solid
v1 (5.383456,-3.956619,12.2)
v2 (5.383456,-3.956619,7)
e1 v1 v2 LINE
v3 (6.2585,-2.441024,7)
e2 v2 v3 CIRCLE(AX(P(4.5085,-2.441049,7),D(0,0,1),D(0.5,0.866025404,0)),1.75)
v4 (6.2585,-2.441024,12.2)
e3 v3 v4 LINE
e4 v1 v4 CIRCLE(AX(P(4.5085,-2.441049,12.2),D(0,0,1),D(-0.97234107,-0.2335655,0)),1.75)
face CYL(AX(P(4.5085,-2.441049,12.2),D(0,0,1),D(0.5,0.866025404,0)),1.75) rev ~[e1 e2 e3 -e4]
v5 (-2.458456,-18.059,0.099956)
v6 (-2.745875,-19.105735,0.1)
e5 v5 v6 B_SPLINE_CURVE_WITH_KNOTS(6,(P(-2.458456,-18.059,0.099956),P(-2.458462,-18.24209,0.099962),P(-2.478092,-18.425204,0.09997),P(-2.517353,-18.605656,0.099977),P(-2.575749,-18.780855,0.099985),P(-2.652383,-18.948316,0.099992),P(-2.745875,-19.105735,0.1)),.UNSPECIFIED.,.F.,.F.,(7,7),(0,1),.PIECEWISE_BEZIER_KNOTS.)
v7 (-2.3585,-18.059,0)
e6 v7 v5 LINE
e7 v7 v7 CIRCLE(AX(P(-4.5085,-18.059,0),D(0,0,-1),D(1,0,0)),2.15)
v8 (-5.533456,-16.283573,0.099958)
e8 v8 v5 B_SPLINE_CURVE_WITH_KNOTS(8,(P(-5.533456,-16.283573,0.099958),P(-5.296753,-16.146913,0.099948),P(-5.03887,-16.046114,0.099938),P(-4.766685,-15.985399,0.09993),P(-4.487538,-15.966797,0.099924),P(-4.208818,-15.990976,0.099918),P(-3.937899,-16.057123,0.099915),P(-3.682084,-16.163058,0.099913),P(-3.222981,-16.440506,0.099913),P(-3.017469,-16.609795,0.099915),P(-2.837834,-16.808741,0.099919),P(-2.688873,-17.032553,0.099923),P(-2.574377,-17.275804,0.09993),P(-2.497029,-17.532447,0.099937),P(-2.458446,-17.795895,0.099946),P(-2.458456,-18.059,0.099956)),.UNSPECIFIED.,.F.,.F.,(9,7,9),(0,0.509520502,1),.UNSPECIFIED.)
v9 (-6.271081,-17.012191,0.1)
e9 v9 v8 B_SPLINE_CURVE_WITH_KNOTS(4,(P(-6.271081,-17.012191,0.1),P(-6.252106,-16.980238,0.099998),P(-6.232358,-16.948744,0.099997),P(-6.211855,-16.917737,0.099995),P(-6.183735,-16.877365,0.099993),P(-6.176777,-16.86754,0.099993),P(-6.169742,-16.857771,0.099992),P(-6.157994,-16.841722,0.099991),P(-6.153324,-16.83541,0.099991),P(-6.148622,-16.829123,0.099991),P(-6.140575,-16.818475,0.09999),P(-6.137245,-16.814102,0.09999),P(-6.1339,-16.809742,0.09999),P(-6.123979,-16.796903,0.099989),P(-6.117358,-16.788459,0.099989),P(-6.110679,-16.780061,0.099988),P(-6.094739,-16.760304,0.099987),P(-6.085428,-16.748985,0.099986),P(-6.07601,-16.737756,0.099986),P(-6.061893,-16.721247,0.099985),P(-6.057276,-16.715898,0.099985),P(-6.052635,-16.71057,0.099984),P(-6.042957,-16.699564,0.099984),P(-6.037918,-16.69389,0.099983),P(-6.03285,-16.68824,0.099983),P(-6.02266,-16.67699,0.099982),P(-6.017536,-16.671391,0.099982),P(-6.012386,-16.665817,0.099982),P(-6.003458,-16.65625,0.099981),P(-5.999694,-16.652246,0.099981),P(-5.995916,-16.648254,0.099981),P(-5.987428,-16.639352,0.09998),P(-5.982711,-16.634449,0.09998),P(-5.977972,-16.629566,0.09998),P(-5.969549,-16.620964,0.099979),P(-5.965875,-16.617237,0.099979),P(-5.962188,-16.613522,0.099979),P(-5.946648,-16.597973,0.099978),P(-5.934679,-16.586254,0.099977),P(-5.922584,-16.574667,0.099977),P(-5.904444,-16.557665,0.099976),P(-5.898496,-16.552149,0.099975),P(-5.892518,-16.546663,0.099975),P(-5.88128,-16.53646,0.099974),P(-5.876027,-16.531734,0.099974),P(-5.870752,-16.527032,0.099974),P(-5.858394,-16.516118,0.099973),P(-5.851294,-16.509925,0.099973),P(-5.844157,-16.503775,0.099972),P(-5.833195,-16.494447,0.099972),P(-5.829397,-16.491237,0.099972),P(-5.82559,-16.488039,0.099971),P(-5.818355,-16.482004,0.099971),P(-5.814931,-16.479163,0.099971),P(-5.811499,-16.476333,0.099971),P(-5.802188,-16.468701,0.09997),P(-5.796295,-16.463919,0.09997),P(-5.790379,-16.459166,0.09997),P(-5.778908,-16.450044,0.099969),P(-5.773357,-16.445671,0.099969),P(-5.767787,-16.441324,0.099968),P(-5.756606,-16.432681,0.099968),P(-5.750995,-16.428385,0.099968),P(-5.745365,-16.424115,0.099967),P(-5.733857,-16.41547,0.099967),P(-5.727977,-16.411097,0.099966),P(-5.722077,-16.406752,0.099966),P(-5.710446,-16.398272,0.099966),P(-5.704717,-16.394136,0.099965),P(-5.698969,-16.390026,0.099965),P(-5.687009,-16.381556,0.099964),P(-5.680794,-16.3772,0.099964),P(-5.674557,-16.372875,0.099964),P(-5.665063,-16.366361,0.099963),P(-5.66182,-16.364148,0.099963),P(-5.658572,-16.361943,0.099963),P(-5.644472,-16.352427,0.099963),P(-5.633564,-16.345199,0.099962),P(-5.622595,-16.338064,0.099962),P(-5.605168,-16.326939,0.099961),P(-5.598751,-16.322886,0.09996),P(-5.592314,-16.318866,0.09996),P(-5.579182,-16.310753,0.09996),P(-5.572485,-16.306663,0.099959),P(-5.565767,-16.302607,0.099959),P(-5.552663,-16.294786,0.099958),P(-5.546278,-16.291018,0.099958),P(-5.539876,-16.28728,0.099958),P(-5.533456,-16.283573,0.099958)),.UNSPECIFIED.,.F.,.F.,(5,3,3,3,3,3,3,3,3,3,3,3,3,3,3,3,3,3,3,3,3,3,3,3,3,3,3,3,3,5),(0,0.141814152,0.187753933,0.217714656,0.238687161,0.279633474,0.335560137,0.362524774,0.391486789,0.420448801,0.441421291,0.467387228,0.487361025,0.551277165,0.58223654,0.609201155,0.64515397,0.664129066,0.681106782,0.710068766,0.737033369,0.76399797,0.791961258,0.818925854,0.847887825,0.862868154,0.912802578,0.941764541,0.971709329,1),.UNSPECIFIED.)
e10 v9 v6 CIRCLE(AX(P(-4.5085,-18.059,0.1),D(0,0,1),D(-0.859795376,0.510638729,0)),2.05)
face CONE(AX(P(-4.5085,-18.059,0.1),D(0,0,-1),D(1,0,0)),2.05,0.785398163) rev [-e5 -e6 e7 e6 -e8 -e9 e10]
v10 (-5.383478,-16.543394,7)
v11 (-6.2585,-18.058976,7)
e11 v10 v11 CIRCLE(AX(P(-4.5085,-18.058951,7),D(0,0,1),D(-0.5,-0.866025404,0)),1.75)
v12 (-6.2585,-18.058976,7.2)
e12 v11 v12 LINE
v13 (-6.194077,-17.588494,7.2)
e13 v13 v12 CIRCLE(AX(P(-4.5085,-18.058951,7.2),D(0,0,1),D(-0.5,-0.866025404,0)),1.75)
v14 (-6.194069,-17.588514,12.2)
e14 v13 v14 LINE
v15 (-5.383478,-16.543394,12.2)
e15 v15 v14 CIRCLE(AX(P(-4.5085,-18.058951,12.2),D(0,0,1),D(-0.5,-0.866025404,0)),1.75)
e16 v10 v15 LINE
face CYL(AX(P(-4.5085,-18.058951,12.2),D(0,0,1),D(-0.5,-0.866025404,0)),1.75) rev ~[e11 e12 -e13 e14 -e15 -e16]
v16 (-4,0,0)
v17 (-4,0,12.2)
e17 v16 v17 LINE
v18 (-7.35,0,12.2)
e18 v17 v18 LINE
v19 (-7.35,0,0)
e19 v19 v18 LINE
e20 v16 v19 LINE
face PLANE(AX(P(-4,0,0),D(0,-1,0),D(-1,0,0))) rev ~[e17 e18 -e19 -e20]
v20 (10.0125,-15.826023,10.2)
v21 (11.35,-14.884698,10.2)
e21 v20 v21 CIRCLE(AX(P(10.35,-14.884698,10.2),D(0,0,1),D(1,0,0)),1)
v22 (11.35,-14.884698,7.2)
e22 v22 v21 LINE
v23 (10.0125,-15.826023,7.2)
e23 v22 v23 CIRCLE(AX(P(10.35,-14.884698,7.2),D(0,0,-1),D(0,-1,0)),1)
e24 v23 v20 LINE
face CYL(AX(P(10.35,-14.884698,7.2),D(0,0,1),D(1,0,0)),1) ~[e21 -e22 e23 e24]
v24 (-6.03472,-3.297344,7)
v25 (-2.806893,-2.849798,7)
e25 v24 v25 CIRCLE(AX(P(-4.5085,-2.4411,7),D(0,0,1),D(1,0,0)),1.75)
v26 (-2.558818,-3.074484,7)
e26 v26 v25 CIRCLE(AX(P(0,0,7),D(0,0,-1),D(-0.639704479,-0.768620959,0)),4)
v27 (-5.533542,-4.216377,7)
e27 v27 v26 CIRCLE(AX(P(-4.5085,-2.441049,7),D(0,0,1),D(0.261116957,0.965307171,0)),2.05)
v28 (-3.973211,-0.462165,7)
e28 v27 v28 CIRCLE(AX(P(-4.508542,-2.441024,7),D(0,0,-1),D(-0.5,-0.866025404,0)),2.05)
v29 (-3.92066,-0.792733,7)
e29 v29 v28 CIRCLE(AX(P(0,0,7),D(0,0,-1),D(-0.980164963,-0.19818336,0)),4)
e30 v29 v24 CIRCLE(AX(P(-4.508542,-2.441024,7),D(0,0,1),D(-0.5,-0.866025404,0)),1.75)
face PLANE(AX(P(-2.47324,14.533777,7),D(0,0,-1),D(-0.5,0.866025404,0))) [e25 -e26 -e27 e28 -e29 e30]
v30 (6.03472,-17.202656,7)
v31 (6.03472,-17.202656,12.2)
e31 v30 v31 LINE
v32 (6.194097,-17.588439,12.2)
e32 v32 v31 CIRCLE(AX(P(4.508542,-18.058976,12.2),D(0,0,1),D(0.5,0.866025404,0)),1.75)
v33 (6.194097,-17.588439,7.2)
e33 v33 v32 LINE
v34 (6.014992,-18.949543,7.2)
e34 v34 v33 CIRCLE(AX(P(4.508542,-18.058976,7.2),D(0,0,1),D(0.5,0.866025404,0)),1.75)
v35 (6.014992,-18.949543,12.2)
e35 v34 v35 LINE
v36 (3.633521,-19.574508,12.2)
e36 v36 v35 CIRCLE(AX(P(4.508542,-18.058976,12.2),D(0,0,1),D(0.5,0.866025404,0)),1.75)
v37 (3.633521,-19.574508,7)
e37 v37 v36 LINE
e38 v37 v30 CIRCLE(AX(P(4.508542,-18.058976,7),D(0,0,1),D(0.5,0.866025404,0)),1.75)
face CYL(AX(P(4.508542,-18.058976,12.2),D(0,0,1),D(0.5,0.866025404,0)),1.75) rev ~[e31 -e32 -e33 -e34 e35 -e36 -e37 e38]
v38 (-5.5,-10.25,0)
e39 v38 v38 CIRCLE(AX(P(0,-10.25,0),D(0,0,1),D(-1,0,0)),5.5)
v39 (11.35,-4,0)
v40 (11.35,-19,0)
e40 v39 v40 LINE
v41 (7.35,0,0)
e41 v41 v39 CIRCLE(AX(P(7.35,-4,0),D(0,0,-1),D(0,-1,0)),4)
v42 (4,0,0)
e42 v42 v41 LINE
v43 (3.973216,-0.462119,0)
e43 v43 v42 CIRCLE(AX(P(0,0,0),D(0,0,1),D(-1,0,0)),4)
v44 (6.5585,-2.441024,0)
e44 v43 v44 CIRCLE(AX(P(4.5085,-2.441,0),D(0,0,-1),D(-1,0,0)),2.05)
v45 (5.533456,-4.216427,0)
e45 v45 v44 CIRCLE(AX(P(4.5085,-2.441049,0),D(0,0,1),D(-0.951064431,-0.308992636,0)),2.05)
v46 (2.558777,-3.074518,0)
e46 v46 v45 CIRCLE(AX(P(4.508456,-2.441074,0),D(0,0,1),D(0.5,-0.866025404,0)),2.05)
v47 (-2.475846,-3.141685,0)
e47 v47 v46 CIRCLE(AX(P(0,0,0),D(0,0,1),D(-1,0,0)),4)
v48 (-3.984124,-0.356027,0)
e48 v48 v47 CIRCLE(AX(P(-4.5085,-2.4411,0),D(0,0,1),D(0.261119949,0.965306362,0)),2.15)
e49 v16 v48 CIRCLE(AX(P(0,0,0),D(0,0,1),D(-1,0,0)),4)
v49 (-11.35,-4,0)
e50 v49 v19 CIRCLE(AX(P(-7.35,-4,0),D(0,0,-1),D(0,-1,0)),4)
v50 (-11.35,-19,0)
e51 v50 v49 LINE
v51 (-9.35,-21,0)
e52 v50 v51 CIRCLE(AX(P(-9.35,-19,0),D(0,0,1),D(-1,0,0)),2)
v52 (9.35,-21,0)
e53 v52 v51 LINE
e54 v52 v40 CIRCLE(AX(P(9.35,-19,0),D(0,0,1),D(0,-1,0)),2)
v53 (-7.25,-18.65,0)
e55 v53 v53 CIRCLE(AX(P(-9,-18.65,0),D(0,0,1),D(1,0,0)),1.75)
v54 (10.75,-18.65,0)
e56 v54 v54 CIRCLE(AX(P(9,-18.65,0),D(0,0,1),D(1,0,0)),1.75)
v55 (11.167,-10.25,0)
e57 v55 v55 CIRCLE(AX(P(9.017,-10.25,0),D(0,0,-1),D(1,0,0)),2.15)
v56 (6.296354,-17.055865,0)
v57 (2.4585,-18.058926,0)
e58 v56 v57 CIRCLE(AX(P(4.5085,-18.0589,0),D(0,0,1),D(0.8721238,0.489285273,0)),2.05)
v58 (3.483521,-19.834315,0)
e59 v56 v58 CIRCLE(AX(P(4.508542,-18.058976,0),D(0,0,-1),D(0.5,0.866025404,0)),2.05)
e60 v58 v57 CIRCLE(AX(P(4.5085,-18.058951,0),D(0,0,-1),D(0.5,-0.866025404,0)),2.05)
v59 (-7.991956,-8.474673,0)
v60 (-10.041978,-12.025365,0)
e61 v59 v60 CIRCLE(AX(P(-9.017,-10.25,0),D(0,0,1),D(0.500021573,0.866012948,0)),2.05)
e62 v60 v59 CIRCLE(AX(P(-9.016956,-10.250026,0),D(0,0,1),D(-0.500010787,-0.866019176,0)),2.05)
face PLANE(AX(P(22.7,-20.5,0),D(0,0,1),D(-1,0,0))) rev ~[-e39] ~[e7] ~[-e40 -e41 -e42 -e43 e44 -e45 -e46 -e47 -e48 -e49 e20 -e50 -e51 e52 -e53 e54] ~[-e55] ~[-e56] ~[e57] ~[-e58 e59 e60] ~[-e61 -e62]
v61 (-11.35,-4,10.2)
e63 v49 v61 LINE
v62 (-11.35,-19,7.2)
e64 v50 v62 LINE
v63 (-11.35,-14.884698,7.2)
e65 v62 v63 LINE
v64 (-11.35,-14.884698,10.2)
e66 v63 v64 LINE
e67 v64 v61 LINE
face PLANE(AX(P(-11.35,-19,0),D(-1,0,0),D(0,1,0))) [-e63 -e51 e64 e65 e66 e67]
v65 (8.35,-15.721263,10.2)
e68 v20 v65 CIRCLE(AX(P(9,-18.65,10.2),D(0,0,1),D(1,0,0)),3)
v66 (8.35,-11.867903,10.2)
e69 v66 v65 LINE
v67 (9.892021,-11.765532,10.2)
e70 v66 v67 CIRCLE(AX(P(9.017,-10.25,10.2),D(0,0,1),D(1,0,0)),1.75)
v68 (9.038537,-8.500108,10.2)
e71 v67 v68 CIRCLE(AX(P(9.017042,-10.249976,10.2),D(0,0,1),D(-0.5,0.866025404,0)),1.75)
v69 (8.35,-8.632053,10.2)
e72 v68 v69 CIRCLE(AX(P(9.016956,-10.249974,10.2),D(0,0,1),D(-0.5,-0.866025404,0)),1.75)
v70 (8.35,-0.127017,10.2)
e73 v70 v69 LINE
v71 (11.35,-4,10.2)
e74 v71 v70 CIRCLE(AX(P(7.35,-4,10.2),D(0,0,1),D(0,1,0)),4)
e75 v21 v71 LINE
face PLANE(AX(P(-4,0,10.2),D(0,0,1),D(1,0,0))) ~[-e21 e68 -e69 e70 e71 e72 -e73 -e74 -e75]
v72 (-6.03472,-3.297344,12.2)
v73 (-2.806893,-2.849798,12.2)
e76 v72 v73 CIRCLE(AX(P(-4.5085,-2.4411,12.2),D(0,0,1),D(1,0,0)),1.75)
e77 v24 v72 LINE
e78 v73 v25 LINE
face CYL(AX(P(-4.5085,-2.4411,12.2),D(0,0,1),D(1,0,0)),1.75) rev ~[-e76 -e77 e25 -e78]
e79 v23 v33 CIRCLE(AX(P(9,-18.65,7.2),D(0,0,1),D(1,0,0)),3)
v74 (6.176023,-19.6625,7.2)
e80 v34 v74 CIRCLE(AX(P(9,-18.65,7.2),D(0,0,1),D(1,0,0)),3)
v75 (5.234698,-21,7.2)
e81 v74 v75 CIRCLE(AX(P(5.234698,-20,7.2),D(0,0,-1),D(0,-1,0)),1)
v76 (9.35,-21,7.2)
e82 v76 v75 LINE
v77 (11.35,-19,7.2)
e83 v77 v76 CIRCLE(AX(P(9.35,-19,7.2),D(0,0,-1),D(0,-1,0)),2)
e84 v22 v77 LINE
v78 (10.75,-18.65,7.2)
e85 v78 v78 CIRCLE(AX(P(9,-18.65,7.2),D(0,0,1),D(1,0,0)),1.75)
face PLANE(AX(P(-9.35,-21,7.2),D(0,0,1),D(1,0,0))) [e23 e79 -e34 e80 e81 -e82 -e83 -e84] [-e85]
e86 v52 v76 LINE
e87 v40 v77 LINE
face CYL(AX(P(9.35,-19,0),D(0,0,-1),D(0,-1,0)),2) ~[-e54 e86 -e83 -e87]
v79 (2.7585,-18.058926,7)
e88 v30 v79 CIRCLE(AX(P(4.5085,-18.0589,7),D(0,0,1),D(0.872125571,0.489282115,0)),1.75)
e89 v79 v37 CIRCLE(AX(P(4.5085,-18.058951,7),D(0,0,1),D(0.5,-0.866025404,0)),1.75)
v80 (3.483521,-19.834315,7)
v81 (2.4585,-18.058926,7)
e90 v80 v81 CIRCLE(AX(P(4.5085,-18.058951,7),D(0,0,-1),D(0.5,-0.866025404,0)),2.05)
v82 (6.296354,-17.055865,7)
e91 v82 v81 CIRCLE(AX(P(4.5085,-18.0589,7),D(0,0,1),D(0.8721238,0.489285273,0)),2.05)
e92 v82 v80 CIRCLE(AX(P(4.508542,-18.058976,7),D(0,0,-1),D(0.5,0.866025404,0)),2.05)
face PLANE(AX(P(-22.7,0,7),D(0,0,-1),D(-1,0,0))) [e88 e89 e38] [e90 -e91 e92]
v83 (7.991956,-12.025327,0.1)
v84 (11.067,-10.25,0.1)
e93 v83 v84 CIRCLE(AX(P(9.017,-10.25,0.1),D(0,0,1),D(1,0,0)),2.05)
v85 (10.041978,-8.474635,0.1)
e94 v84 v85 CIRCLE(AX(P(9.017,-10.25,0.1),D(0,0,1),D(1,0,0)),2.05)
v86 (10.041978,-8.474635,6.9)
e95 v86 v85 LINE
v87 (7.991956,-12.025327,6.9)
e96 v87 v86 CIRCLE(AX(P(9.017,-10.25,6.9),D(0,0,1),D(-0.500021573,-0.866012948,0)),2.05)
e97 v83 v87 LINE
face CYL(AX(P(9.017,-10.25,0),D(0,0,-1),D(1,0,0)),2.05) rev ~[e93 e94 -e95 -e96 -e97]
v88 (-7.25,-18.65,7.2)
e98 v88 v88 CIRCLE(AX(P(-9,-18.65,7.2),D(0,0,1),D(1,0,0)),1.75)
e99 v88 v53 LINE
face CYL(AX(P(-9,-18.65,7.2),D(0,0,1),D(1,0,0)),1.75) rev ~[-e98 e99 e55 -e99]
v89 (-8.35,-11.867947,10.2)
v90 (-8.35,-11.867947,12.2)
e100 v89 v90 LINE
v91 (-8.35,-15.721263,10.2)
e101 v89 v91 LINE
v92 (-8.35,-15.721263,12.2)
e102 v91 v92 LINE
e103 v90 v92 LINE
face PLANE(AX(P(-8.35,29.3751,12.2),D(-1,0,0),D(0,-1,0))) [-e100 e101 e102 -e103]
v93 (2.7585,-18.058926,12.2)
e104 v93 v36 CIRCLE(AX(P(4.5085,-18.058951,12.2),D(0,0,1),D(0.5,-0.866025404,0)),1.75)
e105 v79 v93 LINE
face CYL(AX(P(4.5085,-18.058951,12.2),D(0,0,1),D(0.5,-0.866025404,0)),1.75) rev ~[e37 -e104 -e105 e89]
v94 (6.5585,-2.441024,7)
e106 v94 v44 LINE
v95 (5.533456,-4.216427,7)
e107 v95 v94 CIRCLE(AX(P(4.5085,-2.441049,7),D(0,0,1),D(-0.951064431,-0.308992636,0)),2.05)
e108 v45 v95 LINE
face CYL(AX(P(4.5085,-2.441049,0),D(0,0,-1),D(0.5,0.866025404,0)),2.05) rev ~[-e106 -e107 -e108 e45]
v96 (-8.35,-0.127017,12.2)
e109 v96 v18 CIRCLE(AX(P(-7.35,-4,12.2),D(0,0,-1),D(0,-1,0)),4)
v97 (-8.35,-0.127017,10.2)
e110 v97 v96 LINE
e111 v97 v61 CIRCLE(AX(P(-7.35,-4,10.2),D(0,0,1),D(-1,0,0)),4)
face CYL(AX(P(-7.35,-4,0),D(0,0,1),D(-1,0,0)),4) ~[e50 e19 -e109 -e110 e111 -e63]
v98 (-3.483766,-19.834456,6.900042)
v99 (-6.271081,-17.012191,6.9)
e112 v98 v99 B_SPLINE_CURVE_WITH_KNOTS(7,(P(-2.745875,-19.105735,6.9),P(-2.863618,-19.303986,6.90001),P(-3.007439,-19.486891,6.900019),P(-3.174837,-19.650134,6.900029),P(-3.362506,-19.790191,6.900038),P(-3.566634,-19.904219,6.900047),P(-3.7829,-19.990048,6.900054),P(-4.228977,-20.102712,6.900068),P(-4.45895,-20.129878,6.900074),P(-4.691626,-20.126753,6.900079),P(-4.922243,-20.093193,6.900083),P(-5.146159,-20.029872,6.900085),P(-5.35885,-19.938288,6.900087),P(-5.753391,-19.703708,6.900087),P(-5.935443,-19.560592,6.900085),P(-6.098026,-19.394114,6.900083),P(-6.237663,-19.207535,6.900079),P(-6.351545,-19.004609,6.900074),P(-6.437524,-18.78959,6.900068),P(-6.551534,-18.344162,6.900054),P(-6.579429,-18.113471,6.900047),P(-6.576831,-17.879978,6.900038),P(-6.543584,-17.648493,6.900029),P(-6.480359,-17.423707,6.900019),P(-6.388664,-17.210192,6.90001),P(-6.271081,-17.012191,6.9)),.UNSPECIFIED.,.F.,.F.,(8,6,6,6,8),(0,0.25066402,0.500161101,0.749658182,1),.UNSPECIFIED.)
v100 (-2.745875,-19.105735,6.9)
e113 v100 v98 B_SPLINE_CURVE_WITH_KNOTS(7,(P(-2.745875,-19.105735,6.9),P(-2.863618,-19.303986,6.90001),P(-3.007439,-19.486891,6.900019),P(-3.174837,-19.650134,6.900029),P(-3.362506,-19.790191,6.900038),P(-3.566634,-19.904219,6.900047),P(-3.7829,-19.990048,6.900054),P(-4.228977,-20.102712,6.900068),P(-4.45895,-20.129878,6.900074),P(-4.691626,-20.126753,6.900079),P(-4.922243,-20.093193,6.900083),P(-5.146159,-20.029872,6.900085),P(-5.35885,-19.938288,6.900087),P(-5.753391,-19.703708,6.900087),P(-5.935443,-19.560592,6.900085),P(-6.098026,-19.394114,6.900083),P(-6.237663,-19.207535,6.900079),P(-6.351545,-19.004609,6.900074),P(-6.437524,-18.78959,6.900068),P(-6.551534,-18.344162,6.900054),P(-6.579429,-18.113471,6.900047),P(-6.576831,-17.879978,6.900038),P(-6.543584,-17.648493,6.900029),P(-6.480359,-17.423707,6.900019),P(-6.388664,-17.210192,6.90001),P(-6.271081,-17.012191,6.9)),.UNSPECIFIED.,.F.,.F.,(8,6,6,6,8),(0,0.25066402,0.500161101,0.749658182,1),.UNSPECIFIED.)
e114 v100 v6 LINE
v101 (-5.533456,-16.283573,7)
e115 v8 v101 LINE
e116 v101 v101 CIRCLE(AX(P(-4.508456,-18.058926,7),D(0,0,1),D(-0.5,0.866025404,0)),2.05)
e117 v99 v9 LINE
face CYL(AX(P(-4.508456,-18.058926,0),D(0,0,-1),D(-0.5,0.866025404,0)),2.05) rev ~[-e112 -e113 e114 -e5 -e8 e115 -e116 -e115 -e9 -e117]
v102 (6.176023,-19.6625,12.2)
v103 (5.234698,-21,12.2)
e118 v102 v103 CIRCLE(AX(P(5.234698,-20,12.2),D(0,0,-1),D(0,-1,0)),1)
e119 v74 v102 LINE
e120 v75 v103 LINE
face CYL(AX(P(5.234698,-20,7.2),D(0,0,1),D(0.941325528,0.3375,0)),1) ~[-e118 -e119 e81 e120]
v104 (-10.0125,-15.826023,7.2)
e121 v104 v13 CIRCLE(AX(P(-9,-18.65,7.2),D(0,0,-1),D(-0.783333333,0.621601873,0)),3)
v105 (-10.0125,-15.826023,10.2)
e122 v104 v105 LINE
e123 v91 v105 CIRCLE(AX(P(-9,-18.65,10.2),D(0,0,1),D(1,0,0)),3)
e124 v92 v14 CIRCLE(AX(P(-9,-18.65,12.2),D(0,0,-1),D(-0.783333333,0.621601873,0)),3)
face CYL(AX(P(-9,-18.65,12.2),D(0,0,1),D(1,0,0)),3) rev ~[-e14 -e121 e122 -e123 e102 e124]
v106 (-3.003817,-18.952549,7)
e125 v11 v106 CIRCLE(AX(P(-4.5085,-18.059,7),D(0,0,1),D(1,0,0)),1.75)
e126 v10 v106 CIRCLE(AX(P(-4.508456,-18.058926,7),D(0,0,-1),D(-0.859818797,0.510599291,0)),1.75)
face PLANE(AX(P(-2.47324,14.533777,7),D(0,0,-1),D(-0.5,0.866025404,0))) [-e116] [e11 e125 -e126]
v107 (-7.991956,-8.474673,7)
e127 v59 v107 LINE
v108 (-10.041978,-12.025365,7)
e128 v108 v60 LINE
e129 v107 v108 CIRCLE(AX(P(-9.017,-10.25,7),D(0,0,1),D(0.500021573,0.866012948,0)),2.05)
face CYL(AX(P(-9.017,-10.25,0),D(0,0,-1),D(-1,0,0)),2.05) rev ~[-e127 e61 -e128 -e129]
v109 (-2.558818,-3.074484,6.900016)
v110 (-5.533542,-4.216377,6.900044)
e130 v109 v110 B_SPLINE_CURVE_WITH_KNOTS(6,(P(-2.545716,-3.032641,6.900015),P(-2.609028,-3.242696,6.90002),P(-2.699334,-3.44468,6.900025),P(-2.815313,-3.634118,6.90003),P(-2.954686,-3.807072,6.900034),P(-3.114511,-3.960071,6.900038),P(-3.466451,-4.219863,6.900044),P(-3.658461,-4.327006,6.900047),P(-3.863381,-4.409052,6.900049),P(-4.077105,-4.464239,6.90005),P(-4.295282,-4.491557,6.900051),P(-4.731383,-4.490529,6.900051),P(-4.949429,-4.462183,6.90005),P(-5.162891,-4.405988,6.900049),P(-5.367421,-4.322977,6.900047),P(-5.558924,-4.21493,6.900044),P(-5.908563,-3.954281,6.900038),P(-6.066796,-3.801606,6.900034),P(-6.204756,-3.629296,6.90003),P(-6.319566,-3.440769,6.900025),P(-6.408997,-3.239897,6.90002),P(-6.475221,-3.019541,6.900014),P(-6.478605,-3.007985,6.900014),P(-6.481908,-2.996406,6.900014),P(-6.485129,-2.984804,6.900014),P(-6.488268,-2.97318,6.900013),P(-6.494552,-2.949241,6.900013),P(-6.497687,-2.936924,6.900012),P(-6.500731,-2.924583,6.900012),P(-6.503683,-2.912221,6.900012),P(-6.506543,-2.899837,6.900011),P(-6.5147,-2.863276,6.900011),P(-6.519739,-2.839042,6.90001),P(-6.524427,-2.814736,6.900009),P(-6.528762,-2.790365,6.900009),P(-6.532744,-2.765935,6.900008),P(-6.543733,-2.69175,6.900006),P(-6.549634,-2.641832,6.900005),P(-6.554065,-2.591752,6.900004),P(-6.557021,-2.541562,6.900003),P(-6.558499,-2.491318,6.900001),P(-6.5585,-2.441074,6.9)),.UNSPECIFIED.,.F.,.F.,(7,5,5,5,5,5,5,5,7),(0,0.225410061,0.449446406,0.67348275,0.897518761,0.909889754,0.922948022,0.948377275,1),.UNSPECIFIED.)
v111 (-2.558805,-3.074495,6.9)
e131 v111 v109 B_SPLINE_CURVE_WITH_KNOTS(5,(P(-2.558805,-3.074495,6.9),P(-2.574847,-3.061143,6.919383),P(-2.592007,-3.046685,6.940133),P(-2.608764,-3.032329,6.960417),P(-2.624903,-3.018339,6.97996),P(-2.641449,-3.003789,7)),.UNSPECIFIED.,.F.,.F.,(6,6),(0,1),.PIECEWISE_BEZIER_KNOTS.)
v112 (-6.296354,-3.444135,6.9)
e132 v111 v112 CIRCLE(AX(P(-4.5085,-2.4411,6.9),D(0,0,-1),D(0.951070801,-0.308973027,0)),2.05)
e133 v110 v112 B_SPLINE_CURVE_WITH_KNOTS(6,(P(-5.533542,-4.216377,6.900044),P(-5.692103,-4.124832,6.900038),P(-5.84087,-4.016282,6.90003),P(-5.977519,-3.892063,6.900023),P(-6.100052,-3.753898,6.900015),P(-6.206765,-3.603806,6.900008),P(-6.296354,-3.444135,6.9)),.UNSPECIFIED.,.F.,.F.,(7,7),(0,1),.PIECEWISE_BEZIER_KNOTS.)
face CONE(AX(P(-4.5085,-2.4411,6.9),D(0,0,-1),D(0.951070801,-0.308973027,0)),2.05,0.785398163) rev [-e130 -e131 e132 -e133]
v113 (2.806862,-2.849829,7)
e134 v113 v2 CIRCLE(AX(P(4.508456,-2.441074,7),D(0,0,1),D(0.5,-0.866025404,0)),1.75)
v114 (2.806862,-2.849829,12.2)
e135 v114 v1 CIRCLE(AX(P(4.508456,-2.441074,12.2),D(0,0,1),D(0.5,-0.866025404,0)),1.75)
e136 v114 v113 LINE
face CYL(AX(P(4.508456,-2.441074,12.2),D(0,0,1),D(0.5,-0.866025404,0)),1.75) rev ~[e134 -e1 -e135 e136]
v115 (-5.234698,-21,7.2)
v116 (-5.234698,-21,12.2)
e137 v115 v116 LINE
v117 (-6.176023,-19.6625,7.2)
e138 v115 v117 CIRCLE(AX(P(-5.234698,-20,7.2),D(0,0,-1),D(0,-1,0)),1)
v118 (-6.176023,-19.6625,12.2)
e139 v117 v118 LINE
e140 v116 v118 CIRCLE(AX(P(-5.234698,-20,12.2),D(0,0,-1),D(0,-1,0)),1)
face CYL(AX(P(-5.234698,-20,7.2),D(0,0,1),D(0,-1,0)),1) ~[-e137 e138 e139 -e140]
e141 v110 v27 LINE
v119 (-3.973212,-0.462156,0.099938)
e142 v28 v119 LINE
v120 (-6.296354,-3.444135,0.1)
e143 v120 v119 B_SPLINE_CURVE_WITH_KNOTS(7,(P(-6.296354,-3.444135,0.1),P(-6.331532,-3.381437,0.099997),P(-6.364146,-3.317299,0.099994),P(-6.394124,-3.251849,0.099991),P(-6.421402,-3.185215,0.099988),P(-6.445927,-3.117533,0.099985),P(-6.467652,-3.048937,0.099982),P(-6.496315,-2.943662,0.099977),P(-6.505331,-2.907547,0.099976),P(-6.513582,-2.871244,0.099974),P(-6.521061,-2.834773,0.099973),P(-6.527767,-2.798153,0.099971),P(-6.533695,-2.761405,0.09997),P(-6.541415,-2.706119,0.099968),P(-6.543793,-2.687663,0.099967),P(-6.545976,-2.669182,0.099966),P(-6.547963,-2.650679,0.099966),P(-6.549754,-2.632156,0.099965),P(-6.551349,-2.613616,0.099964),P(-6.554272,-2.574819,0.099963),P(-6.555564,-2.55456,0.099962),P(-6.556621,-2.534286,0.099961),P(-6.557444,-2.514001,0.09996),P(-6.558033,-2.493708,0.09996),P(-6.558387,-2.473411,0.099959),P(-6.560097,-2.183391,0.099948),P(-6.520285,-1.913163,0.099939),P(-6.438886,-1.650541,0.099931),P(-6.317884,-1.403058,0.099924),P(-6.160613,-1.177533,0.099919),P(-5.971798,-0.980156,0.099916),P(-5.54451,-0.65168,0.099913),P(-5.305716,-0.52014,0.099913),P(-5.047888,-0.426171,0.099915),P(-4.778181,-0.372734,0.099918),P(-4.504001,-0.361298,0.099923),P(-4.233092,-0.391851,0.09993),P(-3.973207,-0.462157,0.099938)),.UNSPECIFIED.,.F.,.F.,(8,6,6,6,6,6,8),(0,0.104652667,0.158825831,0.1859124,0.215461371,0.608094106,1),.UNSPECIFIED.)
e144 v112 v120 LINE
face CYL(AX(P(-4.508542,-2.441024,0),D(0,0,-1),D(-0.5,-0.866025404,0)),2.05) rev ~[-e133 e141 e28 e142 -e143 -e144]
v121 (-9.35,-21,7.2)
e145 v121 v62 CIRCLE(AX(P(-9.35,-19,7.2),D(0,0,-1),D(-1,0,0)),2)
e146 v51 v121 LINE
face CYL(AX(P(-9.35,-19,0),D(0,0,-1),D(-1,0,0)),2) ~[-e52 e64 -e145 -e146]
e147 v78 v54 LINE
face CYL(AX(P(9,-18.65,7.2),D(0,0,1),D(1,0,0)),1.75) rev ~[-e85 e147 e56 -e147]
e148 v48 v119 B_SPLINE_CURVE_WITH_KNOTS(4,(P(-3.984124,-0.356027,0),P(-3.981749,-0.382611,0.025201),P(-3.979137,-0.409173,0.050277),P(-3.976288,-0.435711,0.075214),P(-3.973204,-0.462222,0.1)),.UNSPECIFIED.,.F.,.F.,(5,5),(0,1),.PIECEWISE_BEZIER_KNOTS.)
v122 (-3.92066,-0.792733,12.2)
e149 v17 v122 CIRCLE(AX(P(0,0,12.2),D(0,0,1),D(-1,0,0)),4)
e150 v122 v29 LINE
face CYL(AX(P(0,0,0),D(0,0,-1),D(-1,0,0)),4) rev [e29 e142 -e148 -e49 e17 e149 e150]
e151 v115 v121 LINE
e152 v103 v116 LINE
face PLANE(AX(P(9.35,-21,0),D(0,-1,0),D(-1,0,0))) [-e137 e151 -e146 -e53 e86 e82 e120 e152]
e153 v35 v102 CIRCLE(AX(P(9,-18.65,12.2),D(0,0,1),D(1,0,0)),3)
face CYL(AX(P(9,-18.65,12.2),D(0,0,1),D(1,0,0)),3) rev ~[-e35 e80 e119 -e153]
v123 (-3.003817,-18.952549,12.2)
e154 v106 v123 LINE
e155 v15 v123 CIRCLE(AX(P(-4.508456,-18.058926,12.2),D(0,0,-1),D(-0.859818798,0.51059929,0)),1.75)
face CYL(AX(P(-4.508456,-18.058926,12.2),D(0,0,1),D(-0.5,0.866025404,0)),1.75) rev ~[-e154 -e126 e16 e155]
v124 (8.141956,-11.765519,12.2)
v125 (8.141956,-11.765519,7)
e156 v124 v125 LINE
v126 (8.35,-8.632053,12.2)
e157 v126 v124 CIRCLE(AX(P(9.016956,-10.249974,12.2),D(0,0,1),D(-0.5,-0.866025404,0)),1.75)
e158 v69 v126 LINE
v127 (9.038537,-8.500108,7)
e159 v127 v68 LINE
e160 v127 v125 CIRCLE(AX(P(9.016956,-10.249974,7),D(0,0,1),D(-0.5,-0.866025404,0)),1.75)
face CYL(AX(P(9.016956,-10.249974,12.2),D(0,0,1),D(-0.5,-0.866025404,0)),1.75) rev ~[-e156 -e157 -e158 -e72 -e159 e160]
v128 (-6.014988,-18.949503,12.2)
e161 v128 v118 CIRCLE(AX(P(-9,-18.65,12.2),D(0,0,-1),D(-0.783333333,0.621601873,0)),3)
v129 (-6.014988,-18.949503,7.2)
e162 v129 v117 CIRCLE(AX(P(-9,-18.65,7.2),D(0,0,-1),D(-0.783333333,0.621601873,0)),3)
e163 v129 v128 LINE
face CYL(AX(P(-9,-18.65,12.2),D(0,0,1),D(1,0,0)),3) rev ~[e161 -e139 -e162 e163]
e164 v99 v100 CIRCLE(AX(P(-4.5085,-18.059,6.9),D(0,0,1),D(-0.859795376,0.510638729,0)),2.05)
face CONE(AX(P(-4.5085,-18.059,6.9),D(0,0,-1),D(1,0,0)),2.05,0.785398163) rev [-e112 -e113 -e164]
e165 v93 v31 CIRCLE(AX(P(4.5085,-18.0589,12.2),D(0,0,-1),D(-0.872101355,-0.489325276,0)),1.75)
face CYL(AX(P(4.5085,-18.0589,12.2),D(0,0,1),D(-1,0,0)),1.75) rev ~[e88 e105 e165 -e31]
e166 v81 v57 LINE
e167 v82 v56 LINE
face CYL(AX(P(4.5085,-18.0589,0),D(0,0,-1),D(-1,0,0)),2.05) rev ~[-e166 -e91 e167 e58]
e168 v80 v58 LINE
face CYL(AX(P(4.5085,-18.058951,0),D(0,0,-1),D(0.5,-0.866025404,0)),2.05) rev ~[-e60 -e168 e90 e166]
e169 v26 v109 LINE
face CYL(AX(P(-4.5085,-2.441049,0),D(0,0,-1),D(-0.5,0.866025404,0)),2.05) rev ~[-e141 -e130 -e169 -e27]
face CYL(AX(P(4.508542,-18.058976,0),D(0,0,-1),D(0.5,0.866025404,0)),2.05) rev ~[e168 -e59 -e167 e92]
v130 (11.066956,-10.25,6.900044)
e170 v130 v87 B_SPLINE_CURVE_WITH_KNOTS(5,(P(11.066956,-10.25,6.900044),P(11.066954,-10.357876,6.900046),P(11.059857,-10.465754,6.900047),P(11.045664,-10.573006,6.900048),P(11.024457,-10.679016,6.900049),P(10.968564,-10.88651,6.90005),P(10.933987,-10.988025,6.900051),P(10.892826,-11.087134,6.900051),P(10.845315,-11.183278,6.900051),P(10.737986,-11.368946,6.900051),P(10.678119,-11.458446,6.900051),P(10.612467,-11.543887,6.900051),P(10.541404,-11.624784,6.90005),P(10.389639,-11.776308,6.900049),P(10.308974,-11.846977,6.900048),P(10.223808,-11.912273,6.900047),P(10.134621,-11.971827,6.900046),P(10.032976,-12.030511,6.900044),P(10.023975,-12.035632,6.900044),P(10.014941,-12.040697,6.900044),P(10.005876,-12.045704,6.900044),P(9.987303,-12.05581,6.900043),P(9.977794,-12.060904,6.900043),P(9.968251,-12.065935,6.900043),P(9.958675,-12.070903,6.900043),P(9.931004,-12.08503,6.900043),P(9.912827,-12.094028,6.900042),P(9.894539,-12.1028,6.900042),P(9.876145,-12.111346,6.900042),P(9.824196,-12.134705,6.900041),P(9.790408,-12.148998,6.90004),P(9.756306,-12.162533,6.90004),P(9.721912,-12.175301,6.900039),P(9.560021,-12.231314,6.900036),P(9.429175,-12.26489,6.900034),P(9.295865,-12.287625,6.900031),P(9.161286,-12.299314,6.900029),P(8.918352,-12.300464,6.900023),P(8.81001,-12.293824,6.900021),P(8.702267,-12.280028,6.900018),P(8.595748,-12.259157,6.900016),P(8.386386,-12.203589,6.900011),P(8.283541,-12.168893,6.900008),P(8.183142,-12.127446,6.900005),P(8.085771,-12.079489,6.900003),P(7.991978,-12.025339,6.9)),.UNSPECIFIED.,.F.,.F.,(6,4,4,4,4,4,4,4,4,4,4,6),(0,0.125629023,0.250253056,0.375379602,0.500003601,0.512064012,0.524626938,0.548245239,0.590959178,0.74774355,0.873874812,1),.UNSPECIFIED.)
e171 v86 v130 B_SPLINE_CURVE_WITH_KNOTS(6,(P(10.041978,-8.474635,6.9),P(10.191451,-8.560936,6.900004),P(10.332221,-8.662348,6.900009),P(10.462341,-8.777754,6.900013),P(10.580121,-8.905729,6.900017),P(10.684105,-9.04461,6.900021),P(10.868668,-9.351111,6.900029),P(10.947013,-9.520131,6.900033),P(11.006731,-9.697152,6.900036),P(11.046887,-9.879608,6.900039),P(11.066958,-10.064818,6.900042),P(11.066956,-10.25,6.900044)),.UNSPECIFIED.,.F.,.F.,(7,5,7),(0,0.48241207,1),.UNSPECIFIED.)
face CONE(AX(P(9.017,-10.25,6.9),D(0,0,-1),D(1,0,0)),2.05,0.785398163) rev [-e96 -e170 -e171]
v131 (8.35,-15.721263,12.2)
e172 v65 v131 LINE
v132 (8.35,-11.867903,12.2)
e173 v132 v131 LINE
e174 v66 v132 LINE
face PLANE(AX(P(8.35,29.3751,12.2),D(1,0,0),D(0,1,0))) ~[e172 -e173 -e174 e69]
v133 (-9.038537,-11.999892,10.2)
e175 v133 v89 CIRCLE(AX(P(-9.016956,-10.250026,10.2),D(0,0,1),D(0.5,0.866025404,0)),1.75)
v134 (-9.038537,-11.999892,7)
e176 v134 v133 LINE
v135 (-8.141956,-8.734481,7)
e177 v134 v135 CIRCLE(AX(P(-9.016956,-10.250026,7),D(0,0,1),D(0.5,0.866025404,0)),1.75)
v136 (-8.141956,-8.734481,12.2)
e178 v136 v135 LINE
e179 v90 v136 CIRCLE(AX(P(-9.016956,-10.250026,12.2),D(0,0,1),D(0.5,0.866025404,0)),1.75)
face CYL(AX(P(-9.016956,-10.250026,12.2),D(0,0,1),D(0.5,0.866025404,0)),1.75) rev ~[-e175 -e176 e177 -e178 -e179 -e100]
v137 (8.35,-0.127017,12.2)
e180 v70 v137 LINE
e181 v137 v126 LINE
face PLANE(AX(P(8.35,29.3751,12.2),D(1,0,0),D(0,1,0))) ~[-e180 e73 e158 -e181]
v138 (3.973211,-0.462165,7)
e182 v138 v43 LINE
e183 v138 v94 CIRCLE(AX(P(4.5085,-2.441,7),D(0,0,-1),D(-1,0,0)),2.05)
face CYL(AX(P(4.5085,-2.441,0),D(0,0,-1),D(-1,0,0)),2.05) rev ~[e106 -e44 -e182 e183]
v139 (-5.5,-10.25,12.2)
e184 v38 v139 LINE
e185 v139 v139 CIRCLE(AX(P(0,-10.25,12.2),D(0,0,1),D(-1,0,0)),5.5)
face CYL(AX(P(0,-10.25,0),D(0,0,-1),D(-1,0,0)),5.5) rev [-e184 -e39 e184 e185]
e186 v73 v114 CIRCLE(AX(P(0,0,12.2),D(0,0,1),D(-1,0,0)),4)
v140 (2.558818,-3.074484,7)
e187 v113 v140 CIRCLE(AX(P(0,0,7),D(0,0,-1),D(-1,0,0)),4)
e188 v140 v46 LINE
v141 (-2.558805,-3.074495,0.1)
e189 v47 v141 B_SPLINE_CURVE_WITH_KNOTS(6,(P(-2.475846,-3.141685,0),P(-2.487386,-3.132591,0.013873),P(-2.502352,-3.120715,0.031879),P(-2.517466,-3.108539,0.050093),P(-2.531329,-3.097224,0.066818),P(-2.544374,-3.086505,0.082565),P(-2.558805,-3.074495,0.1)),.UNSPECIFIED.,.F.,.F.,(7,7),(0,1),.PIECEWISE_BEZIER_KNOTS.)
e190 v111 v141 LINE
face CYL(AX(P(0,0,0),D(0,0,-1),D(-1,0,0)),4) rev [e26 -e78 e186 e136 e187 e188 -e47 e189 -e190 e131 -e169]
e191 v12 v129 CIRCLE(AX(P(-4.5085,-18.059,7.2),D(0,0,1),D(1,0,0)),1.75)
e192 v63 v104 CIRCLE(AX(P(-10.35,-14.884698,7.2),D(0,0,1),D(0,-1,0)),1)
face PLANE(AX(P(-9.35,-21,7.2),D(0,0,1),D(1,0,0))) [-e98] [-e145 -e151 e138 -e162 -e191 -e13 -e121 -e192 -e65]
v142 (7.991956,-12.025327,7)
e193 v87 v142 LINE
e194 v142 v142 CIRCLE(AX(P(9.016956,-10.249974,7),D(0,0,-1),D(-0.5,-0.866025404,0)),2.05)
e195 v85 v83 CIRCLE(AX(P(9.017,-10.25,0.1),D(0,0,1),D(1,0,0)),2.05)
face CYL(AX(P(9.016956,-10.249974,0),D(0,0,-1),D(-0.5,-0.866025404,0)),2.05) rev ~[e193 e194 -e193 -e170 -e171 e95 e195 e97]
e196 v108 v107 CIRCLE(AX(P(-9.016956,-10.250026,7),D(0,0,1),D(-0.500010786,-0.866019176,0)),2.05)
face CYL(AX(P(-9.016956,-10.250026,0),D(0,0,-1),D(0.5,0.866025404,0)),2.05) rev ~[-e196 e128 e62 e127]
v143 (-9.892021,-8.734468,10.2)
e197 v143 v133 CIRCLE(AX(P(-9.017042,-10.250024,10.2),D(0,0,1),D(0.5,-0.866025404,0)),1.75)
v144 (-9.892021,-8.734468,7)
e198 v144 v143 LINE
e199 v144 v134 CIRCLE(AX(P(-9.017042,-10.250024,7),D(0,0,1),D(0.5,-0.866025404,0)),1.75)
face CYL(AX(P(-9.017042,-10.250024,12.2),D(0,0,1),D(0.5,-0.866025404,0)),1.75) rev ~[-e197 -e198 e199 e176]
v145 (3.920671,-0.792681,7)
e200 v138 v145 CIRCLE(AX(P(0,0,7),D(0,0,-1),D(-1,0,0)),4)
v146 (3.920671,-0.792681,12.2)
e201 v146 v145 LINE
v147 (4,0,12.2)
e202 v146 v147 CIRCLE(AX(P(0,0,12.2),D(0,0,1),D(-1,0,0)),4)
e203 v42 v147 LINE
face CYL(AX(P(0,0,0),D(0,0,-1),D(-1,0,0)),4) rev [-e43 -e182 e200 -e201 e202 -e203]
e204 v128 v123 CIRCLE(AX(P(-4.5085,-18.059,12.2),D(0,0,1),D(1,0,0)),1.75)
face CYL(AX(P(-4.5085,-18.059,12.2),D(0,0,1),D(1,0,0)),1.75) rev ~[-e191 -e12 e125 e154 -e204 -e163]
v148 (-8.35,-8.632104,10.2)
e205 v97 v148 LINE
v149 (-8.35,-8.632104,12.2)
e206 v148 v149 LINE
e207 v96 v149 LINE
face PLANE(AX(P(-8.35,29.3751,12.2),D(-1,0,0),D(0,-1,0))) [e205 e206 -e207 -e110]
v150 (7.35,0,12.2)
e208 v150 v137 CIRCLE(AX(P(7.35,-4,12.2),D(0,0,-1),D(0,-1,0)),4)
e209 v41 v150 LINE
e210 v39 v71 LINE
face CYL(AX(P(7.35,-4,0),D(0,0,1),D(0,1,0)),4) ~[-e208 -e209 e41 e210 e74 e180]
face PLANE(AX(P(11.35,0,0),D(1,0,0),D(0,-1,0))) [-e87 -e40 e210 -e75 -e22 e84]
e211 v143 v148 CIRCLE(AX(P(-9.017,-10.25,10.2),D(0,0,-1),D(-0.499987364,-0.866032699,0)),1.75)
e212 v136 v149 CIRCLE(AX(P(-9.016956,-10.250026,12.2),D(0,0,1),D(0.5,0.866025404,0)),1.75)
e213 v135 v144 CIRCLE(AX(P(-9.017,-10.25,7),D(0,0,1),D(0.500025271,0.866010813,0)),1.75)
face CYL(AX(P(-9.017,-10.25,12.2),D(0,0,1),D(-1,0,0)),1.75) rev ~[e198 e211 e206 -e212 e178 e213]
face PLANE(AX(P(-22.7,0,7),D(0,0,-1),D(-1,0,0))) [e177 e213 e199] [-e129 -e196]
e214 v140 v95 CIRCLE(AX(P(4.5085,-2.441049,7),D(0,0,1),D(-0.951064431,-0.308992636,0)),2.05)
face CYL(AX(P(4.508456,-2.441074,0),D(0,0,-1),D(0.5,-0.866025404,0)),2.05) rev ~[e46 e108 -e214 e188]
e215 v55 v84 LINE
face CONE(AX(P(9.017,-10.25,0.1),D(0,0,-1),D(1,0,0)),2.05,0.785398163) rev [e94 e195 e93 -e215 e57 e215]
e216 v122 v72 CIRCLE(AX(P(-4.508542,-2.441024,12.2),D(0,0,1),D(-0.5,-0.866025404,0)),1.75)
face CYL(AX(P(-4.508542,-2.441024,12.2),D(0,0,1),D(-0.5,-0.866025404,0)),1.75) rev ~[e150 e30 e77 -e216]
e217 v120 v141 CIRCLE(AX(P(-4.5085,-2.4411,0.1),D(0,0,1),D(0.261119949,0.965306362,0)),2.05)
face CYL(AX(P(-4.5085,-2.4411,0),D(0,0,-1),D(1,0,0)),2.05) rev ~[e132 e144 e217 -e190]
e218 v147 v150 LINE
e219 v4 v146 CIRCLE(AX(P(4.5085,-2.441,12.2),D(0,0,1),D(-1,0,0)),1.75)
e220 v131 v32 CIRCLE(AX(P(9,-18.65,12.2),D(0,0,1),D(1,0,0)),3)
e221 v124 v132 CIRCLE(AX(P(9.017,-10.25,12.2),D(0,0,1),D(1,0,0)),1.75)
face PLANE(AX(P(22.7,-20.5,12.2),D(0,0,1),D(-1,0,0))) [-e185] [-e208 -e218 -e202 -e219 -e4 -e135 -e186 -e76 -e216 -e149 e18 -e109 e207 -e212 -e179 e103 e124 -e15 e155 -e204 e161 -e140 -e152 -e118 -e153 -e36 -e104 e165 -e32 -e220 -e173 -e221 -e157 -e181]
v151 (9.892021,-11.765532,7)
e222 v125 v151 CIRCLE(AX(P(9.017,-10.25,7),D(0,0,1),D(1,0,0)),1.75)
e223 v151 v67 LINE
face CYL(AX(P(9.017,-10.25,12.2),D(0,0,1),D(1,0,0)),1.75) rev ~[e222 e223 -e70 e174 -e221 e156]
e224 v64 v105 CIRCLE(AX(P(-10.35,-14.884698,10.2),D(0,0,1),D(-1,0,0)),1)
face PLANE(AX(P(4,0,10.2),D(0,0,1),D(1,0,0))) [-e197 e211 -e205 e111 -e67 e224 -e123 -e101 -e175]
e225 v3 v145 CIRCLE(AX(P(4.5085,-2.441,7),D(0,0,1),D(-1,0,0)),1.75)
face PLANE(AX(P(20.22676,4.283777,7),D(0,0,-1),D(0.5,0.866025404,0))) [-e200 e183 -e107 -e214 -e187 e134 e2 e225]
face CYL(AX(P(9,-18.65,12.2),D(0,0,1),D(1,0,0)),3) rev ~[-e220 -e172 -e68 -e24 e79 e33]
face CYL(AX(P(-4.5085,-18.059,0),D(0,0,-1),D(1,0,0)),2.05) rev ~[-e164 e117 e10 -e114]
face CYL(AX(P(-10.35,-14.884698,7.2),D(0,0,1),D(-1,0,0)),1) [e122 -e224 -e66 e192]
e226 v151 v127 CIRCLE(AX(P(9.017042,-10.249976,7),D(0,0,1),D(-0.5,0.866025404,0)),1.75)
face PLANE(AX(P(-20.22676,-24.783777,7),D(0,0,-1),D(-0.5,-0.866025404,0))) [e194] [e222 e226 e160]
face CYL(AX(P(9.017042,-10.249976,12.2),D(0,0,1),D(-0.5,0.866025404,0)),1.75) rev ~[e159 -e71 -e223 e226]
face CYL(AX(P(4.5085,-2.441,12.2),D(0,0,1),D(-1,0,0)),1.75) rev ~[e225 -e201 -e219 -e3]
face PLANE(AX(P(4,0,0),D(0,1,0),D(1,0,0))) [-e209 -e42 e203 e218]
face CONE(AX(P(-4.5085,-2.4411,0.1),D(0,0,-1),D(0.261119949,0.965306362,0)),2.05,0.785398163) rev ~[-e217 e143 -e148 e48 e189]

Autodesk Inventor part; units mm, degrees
ref_plane "YZ Plane" through (0, 0, 0) normal (1, 0, 0) x (0, 1, 0)
ref_plane "Work Plane1" through (22.7, -20.5, 0) normal (0, 0, 1) x (-1, 0, 0)
sketch "Sketch1" plane through (22.7, -20.5, 0) normal (0, 0, 1) x (-1, 0, 0)
  arc A0 (13.35, 0.5) -> (11.35, -1.5) centre (13.35, -1.5) ccw projected
  line L0 (11.35, -32.85) -> (11.35, -1.5) projected
  arc A1 (15.3515, -24.2) -> (11.35, -32.85) centre (22.7, -32.85) ccw construction
  line L1 (15.3515, -24.2) -> (20.35, -24.2) construction
  line L2 (20.35, -24.2) -> (20.35, -21.2) projected
  arc A2 (25.05, -21.2) -> (20.35, -21.2) centre (22.7, -21.2) ccw projected
  line L3 (25.05, -21.2) -> (25.05, -24.2) projected
  line L4 (25.05, -24.2) -> (30.0485, -24.2) construction
  arc A3 (34.05, -32.85) -> (30.0485, -24.2) centre (22.7, -32.85) ccw construction
  line L5 (34.05, -1.5) -> (34.05, -32.85) projected
  arc A4 (34.05, -1.5) -> (32.05, 0.5) centre (32.05, -1.5) ccw projected
  line L6 (13.35, 0.5) -> (32.05, 0.5) projected
  circle A5 centre (31.7, -1.85) radius 1.25 projected
  circle A6 centre (13.7, -1.85) radius 1.25 projected
  circle A7 centre (22.7, -10.25) radius 4.75 projected
  circle A8 centre (22.7, -10.25) radius 5.5
  arc A9 (18.7, -20.5) -> (26.7, -20.5) centre (22.7, -20.5) ccw construction
  line L7 (26.7, -20.5) -> (18.7, -20.5) construction
  line L8 (18.7, -20.5) -> (26.7, -20.5) construction
  line L9 (26.7, -20.5) -> (34.05, -20.5)
  line L10 (18.7, -20.5) -> (11.35, -20.5)
  arc A10 (26.7, -20.5) -> (18.7, -20.5) centre (22.7, -20.5) ccw
  dimension "d0" = 11
  dimension "d1" = 8
ref_plane "Work Plane2" through (-16.51, -21.68, 12.2) normal (0, 0, -1) x (0, 1, 0)
extrude "Extrusion1" add sketch "Sketch1" along normal up to surface (12.2 mm away) contours L6 A4 L5 L9 A10 L10 L0 A0
fillet "Fillet1" radius 4 2 edges at (11.35, 0, 6.1) (-11.35, 0, 6.1)
sketch "Sketch2" plane through (-9.35, -21, 12.2) normal (0, 0, 1) x (1, 0, 0)
  circle A0 centre (18.35, 2.35) radius 1.25 projected
  circle A1 centre (0.35, 2.35) radius 1.25 projected
  circle A2 centre (0.35, 2.35) radius 3
  circle A3 centre (18.35, 2.35) radius 3
  point P0 (9.35, 21)
  dimension "d5" = 6
  dimension "d6" = 6
extrude "Extrusion2" cut sketch "Sketch2" against normal blind 5
sketch "Sketch3" plane through (0, 0, 12.2) normal (0, 0, 1) x (1, 0, 0)
  circle A0 centre (-4.5085, -2.4411) radius 1.65 construction
  circle A1 centre (-4.5085, -18.059) radius 1.65 construction
  circle A2 centre (9.017, -10.25) radius 1.65 construction
  circle A3 centre (9.017, -10.25) radius 1.75
  circle A4 centre (-4.5085, -18.059) radius 1.75
  circle A5 centre (-4.5085, -2.4411) radius 1.75
  point P0 (0, 0)
  dimension "d9" = 3.5
  dimension "d10" = 3.5
  dimension "d11" = 3.5
extrude "Extrusion3" cut sketch "Sketch3" against normal through all
sketch "Sketch4" plane through (22.7, -20.5, 0) normal (0, 0, -1) x (1, 0, 0)
  circle A0 centre (-27.2085, -2.441) radius 1.75 construction
  circle A1 centre (-13.683, -10.25) radius 1.75 construction
  arc A2 (-25.5069, -17.6502) -> (-26.6207, -19.7073) centre (-27.2085, -18.0589) ccw construction
  circle A3 centre (-22.7, -10.25) radius 5.5 construction
  circle A4 centre (-13.7, -1.85) radius 1.25 construction
  circle A5 centre (-31.7, -1.85) radius 1.25 construction
  line L0 (-11.35, -16.5) -> (-11.35, -1.5) construction
  arc A6 (-13.35, 0.5) -> (-11.35, -1.5) centre (-13.35, -1.5) ccw construction
  line L1 (-13.35, 0.5) -> (-32.05, 0.5) construction
  arc A7 (-34.05, -1.5) -> (-32.05, 0.5) centre (-32.05, -1.5) ccw construction
  line L2 (-34.05, -1.5) -> (-34.05, -16.5) construction
  circle A8 centre (-27.2085, -2.441) radius 2.05
  circle A9 centre (-13.683, -10.25) radius 2.05
  circle A10 centre (-27.2085, -18.0589) radius 2.05
  arc A11 (-18.7, -20.5) -> (-25.5069, -17.6502) centre (-22.7, -20.5) ccw projected
  line L3 (-18.7, -20.5) -> (-15.35, -20.5) projected
  arc A12 (-15.35, -20.5) -> (-11.35, -16.5) centre (-15.35, -16.5) ccw projected
  arc A13 (-34.05, -16.5) -> (-30.05, -20.5) centre (-30.05, -16.5) ccw projected
  line L4 (-30.05, -20.5) -> (-26.7, -20.5) projected
  arc A14 (-26.6207, -19.7073) -> (-26.7, -20.5) centre (-22.7, -20.5) ccw projected
  dimension "d14" = 4.1
  dimension "d15" = 4.1
  dimension "d16" = 4.1
extrude "Extrusion4" cut sketch "Sketch4" against normal blind 7
fillet "Fillet2" radius 1 4 edges at (11.35, -16.7852, 9.7) (7.1352, -21, 9.7) (-7.1352, -21, 9.7) (-11.35, -16.7852, 9.7)
chamfer "Chamfer1" distance 0.1 angle 45 6 edges at (-6.5585, -18.059, 0) (6.967, -10.25, 0) (-6.3112, -3.4171, 0) (6.967, -10.25, 7) (-6.5585, -18.059, 7) (-6.3112, -3.4171, 7)
ref_plane "Work Plane4" through (0, -19, 0) normal (1, 0, 0) x (0, 0, -1)
sketch "Sketch5" plane through (4, 0, 12.2) normal (0, 0, 1) x (1, 0, 0)
  line L0 (-35.6575, 29.3751) -> (-12.35, 29.3751)
  line L1 (-12.35, 29.3751) -> (-12.35, -28.609)
  line L2 (-12.35, -28.609) -> (-35.6575, -28.609)
  line L3 (-35.6575, -28.609) -> (-35.6575, 29.3751)
  line L4 (-15.35, -4) -> (-15.35, -14.8847) projected
  point P0 (-15.35, 12.35)
  dimension "d37" = 3
extrude "Extrusion5" cut sketch "Sketch5" against normal blind 2
mirror "Mirror1" about plane through (0, -19, 0) normal (1, 0, 0) of "Extrusion5"
sketch "Sketch6" plane through (-9.35, -21, 7.2) normal (0, 0, 1) x (1, 0, 0)
  circle A0 centre (18.35, 2.35) radius 1.25 projected
  circle A1 centre (0.35, 2.35) radius 1.25 projected
  circle A2 centre (0.35, 2.35) radius 1.75
  circle A3 centre (18.35, 2.35) radius 1.75
  point P0 (9.35, 21)
  dimension "d26" = 3.5
  dimension "d27" = 3.5
extrude "Extrusion6" cut sketch "Sketch6" against normal through all
pattern_circular "Circular Pattern2" count 6 over 360 about axis through (0, -10.25, 0) along (0, 0, 1) of "Extrusion3", "Extrusion4"
sketch "Sketch7" plane through (22.7, -20.5, 0) normal (0, 0, -1) x (-1, 0, 0)
  circle A0 centre (31.717, 10.25) radius 2.05 projected
  circle A1 centre (13.683, 10.25) radius 2.15 projected
  circle A2 centre (13.683, 10.25) radius 3.5
  circle A3 centre (31.717, 10.25) radius 3.5
  point P0 (22.7, 20.5)
  dimension "d38" = 7
  dimension "d39" = 7
equation "\"d10\" = d9"
equation "\"d11\" = d9"
properties part number "EncoderMount"
